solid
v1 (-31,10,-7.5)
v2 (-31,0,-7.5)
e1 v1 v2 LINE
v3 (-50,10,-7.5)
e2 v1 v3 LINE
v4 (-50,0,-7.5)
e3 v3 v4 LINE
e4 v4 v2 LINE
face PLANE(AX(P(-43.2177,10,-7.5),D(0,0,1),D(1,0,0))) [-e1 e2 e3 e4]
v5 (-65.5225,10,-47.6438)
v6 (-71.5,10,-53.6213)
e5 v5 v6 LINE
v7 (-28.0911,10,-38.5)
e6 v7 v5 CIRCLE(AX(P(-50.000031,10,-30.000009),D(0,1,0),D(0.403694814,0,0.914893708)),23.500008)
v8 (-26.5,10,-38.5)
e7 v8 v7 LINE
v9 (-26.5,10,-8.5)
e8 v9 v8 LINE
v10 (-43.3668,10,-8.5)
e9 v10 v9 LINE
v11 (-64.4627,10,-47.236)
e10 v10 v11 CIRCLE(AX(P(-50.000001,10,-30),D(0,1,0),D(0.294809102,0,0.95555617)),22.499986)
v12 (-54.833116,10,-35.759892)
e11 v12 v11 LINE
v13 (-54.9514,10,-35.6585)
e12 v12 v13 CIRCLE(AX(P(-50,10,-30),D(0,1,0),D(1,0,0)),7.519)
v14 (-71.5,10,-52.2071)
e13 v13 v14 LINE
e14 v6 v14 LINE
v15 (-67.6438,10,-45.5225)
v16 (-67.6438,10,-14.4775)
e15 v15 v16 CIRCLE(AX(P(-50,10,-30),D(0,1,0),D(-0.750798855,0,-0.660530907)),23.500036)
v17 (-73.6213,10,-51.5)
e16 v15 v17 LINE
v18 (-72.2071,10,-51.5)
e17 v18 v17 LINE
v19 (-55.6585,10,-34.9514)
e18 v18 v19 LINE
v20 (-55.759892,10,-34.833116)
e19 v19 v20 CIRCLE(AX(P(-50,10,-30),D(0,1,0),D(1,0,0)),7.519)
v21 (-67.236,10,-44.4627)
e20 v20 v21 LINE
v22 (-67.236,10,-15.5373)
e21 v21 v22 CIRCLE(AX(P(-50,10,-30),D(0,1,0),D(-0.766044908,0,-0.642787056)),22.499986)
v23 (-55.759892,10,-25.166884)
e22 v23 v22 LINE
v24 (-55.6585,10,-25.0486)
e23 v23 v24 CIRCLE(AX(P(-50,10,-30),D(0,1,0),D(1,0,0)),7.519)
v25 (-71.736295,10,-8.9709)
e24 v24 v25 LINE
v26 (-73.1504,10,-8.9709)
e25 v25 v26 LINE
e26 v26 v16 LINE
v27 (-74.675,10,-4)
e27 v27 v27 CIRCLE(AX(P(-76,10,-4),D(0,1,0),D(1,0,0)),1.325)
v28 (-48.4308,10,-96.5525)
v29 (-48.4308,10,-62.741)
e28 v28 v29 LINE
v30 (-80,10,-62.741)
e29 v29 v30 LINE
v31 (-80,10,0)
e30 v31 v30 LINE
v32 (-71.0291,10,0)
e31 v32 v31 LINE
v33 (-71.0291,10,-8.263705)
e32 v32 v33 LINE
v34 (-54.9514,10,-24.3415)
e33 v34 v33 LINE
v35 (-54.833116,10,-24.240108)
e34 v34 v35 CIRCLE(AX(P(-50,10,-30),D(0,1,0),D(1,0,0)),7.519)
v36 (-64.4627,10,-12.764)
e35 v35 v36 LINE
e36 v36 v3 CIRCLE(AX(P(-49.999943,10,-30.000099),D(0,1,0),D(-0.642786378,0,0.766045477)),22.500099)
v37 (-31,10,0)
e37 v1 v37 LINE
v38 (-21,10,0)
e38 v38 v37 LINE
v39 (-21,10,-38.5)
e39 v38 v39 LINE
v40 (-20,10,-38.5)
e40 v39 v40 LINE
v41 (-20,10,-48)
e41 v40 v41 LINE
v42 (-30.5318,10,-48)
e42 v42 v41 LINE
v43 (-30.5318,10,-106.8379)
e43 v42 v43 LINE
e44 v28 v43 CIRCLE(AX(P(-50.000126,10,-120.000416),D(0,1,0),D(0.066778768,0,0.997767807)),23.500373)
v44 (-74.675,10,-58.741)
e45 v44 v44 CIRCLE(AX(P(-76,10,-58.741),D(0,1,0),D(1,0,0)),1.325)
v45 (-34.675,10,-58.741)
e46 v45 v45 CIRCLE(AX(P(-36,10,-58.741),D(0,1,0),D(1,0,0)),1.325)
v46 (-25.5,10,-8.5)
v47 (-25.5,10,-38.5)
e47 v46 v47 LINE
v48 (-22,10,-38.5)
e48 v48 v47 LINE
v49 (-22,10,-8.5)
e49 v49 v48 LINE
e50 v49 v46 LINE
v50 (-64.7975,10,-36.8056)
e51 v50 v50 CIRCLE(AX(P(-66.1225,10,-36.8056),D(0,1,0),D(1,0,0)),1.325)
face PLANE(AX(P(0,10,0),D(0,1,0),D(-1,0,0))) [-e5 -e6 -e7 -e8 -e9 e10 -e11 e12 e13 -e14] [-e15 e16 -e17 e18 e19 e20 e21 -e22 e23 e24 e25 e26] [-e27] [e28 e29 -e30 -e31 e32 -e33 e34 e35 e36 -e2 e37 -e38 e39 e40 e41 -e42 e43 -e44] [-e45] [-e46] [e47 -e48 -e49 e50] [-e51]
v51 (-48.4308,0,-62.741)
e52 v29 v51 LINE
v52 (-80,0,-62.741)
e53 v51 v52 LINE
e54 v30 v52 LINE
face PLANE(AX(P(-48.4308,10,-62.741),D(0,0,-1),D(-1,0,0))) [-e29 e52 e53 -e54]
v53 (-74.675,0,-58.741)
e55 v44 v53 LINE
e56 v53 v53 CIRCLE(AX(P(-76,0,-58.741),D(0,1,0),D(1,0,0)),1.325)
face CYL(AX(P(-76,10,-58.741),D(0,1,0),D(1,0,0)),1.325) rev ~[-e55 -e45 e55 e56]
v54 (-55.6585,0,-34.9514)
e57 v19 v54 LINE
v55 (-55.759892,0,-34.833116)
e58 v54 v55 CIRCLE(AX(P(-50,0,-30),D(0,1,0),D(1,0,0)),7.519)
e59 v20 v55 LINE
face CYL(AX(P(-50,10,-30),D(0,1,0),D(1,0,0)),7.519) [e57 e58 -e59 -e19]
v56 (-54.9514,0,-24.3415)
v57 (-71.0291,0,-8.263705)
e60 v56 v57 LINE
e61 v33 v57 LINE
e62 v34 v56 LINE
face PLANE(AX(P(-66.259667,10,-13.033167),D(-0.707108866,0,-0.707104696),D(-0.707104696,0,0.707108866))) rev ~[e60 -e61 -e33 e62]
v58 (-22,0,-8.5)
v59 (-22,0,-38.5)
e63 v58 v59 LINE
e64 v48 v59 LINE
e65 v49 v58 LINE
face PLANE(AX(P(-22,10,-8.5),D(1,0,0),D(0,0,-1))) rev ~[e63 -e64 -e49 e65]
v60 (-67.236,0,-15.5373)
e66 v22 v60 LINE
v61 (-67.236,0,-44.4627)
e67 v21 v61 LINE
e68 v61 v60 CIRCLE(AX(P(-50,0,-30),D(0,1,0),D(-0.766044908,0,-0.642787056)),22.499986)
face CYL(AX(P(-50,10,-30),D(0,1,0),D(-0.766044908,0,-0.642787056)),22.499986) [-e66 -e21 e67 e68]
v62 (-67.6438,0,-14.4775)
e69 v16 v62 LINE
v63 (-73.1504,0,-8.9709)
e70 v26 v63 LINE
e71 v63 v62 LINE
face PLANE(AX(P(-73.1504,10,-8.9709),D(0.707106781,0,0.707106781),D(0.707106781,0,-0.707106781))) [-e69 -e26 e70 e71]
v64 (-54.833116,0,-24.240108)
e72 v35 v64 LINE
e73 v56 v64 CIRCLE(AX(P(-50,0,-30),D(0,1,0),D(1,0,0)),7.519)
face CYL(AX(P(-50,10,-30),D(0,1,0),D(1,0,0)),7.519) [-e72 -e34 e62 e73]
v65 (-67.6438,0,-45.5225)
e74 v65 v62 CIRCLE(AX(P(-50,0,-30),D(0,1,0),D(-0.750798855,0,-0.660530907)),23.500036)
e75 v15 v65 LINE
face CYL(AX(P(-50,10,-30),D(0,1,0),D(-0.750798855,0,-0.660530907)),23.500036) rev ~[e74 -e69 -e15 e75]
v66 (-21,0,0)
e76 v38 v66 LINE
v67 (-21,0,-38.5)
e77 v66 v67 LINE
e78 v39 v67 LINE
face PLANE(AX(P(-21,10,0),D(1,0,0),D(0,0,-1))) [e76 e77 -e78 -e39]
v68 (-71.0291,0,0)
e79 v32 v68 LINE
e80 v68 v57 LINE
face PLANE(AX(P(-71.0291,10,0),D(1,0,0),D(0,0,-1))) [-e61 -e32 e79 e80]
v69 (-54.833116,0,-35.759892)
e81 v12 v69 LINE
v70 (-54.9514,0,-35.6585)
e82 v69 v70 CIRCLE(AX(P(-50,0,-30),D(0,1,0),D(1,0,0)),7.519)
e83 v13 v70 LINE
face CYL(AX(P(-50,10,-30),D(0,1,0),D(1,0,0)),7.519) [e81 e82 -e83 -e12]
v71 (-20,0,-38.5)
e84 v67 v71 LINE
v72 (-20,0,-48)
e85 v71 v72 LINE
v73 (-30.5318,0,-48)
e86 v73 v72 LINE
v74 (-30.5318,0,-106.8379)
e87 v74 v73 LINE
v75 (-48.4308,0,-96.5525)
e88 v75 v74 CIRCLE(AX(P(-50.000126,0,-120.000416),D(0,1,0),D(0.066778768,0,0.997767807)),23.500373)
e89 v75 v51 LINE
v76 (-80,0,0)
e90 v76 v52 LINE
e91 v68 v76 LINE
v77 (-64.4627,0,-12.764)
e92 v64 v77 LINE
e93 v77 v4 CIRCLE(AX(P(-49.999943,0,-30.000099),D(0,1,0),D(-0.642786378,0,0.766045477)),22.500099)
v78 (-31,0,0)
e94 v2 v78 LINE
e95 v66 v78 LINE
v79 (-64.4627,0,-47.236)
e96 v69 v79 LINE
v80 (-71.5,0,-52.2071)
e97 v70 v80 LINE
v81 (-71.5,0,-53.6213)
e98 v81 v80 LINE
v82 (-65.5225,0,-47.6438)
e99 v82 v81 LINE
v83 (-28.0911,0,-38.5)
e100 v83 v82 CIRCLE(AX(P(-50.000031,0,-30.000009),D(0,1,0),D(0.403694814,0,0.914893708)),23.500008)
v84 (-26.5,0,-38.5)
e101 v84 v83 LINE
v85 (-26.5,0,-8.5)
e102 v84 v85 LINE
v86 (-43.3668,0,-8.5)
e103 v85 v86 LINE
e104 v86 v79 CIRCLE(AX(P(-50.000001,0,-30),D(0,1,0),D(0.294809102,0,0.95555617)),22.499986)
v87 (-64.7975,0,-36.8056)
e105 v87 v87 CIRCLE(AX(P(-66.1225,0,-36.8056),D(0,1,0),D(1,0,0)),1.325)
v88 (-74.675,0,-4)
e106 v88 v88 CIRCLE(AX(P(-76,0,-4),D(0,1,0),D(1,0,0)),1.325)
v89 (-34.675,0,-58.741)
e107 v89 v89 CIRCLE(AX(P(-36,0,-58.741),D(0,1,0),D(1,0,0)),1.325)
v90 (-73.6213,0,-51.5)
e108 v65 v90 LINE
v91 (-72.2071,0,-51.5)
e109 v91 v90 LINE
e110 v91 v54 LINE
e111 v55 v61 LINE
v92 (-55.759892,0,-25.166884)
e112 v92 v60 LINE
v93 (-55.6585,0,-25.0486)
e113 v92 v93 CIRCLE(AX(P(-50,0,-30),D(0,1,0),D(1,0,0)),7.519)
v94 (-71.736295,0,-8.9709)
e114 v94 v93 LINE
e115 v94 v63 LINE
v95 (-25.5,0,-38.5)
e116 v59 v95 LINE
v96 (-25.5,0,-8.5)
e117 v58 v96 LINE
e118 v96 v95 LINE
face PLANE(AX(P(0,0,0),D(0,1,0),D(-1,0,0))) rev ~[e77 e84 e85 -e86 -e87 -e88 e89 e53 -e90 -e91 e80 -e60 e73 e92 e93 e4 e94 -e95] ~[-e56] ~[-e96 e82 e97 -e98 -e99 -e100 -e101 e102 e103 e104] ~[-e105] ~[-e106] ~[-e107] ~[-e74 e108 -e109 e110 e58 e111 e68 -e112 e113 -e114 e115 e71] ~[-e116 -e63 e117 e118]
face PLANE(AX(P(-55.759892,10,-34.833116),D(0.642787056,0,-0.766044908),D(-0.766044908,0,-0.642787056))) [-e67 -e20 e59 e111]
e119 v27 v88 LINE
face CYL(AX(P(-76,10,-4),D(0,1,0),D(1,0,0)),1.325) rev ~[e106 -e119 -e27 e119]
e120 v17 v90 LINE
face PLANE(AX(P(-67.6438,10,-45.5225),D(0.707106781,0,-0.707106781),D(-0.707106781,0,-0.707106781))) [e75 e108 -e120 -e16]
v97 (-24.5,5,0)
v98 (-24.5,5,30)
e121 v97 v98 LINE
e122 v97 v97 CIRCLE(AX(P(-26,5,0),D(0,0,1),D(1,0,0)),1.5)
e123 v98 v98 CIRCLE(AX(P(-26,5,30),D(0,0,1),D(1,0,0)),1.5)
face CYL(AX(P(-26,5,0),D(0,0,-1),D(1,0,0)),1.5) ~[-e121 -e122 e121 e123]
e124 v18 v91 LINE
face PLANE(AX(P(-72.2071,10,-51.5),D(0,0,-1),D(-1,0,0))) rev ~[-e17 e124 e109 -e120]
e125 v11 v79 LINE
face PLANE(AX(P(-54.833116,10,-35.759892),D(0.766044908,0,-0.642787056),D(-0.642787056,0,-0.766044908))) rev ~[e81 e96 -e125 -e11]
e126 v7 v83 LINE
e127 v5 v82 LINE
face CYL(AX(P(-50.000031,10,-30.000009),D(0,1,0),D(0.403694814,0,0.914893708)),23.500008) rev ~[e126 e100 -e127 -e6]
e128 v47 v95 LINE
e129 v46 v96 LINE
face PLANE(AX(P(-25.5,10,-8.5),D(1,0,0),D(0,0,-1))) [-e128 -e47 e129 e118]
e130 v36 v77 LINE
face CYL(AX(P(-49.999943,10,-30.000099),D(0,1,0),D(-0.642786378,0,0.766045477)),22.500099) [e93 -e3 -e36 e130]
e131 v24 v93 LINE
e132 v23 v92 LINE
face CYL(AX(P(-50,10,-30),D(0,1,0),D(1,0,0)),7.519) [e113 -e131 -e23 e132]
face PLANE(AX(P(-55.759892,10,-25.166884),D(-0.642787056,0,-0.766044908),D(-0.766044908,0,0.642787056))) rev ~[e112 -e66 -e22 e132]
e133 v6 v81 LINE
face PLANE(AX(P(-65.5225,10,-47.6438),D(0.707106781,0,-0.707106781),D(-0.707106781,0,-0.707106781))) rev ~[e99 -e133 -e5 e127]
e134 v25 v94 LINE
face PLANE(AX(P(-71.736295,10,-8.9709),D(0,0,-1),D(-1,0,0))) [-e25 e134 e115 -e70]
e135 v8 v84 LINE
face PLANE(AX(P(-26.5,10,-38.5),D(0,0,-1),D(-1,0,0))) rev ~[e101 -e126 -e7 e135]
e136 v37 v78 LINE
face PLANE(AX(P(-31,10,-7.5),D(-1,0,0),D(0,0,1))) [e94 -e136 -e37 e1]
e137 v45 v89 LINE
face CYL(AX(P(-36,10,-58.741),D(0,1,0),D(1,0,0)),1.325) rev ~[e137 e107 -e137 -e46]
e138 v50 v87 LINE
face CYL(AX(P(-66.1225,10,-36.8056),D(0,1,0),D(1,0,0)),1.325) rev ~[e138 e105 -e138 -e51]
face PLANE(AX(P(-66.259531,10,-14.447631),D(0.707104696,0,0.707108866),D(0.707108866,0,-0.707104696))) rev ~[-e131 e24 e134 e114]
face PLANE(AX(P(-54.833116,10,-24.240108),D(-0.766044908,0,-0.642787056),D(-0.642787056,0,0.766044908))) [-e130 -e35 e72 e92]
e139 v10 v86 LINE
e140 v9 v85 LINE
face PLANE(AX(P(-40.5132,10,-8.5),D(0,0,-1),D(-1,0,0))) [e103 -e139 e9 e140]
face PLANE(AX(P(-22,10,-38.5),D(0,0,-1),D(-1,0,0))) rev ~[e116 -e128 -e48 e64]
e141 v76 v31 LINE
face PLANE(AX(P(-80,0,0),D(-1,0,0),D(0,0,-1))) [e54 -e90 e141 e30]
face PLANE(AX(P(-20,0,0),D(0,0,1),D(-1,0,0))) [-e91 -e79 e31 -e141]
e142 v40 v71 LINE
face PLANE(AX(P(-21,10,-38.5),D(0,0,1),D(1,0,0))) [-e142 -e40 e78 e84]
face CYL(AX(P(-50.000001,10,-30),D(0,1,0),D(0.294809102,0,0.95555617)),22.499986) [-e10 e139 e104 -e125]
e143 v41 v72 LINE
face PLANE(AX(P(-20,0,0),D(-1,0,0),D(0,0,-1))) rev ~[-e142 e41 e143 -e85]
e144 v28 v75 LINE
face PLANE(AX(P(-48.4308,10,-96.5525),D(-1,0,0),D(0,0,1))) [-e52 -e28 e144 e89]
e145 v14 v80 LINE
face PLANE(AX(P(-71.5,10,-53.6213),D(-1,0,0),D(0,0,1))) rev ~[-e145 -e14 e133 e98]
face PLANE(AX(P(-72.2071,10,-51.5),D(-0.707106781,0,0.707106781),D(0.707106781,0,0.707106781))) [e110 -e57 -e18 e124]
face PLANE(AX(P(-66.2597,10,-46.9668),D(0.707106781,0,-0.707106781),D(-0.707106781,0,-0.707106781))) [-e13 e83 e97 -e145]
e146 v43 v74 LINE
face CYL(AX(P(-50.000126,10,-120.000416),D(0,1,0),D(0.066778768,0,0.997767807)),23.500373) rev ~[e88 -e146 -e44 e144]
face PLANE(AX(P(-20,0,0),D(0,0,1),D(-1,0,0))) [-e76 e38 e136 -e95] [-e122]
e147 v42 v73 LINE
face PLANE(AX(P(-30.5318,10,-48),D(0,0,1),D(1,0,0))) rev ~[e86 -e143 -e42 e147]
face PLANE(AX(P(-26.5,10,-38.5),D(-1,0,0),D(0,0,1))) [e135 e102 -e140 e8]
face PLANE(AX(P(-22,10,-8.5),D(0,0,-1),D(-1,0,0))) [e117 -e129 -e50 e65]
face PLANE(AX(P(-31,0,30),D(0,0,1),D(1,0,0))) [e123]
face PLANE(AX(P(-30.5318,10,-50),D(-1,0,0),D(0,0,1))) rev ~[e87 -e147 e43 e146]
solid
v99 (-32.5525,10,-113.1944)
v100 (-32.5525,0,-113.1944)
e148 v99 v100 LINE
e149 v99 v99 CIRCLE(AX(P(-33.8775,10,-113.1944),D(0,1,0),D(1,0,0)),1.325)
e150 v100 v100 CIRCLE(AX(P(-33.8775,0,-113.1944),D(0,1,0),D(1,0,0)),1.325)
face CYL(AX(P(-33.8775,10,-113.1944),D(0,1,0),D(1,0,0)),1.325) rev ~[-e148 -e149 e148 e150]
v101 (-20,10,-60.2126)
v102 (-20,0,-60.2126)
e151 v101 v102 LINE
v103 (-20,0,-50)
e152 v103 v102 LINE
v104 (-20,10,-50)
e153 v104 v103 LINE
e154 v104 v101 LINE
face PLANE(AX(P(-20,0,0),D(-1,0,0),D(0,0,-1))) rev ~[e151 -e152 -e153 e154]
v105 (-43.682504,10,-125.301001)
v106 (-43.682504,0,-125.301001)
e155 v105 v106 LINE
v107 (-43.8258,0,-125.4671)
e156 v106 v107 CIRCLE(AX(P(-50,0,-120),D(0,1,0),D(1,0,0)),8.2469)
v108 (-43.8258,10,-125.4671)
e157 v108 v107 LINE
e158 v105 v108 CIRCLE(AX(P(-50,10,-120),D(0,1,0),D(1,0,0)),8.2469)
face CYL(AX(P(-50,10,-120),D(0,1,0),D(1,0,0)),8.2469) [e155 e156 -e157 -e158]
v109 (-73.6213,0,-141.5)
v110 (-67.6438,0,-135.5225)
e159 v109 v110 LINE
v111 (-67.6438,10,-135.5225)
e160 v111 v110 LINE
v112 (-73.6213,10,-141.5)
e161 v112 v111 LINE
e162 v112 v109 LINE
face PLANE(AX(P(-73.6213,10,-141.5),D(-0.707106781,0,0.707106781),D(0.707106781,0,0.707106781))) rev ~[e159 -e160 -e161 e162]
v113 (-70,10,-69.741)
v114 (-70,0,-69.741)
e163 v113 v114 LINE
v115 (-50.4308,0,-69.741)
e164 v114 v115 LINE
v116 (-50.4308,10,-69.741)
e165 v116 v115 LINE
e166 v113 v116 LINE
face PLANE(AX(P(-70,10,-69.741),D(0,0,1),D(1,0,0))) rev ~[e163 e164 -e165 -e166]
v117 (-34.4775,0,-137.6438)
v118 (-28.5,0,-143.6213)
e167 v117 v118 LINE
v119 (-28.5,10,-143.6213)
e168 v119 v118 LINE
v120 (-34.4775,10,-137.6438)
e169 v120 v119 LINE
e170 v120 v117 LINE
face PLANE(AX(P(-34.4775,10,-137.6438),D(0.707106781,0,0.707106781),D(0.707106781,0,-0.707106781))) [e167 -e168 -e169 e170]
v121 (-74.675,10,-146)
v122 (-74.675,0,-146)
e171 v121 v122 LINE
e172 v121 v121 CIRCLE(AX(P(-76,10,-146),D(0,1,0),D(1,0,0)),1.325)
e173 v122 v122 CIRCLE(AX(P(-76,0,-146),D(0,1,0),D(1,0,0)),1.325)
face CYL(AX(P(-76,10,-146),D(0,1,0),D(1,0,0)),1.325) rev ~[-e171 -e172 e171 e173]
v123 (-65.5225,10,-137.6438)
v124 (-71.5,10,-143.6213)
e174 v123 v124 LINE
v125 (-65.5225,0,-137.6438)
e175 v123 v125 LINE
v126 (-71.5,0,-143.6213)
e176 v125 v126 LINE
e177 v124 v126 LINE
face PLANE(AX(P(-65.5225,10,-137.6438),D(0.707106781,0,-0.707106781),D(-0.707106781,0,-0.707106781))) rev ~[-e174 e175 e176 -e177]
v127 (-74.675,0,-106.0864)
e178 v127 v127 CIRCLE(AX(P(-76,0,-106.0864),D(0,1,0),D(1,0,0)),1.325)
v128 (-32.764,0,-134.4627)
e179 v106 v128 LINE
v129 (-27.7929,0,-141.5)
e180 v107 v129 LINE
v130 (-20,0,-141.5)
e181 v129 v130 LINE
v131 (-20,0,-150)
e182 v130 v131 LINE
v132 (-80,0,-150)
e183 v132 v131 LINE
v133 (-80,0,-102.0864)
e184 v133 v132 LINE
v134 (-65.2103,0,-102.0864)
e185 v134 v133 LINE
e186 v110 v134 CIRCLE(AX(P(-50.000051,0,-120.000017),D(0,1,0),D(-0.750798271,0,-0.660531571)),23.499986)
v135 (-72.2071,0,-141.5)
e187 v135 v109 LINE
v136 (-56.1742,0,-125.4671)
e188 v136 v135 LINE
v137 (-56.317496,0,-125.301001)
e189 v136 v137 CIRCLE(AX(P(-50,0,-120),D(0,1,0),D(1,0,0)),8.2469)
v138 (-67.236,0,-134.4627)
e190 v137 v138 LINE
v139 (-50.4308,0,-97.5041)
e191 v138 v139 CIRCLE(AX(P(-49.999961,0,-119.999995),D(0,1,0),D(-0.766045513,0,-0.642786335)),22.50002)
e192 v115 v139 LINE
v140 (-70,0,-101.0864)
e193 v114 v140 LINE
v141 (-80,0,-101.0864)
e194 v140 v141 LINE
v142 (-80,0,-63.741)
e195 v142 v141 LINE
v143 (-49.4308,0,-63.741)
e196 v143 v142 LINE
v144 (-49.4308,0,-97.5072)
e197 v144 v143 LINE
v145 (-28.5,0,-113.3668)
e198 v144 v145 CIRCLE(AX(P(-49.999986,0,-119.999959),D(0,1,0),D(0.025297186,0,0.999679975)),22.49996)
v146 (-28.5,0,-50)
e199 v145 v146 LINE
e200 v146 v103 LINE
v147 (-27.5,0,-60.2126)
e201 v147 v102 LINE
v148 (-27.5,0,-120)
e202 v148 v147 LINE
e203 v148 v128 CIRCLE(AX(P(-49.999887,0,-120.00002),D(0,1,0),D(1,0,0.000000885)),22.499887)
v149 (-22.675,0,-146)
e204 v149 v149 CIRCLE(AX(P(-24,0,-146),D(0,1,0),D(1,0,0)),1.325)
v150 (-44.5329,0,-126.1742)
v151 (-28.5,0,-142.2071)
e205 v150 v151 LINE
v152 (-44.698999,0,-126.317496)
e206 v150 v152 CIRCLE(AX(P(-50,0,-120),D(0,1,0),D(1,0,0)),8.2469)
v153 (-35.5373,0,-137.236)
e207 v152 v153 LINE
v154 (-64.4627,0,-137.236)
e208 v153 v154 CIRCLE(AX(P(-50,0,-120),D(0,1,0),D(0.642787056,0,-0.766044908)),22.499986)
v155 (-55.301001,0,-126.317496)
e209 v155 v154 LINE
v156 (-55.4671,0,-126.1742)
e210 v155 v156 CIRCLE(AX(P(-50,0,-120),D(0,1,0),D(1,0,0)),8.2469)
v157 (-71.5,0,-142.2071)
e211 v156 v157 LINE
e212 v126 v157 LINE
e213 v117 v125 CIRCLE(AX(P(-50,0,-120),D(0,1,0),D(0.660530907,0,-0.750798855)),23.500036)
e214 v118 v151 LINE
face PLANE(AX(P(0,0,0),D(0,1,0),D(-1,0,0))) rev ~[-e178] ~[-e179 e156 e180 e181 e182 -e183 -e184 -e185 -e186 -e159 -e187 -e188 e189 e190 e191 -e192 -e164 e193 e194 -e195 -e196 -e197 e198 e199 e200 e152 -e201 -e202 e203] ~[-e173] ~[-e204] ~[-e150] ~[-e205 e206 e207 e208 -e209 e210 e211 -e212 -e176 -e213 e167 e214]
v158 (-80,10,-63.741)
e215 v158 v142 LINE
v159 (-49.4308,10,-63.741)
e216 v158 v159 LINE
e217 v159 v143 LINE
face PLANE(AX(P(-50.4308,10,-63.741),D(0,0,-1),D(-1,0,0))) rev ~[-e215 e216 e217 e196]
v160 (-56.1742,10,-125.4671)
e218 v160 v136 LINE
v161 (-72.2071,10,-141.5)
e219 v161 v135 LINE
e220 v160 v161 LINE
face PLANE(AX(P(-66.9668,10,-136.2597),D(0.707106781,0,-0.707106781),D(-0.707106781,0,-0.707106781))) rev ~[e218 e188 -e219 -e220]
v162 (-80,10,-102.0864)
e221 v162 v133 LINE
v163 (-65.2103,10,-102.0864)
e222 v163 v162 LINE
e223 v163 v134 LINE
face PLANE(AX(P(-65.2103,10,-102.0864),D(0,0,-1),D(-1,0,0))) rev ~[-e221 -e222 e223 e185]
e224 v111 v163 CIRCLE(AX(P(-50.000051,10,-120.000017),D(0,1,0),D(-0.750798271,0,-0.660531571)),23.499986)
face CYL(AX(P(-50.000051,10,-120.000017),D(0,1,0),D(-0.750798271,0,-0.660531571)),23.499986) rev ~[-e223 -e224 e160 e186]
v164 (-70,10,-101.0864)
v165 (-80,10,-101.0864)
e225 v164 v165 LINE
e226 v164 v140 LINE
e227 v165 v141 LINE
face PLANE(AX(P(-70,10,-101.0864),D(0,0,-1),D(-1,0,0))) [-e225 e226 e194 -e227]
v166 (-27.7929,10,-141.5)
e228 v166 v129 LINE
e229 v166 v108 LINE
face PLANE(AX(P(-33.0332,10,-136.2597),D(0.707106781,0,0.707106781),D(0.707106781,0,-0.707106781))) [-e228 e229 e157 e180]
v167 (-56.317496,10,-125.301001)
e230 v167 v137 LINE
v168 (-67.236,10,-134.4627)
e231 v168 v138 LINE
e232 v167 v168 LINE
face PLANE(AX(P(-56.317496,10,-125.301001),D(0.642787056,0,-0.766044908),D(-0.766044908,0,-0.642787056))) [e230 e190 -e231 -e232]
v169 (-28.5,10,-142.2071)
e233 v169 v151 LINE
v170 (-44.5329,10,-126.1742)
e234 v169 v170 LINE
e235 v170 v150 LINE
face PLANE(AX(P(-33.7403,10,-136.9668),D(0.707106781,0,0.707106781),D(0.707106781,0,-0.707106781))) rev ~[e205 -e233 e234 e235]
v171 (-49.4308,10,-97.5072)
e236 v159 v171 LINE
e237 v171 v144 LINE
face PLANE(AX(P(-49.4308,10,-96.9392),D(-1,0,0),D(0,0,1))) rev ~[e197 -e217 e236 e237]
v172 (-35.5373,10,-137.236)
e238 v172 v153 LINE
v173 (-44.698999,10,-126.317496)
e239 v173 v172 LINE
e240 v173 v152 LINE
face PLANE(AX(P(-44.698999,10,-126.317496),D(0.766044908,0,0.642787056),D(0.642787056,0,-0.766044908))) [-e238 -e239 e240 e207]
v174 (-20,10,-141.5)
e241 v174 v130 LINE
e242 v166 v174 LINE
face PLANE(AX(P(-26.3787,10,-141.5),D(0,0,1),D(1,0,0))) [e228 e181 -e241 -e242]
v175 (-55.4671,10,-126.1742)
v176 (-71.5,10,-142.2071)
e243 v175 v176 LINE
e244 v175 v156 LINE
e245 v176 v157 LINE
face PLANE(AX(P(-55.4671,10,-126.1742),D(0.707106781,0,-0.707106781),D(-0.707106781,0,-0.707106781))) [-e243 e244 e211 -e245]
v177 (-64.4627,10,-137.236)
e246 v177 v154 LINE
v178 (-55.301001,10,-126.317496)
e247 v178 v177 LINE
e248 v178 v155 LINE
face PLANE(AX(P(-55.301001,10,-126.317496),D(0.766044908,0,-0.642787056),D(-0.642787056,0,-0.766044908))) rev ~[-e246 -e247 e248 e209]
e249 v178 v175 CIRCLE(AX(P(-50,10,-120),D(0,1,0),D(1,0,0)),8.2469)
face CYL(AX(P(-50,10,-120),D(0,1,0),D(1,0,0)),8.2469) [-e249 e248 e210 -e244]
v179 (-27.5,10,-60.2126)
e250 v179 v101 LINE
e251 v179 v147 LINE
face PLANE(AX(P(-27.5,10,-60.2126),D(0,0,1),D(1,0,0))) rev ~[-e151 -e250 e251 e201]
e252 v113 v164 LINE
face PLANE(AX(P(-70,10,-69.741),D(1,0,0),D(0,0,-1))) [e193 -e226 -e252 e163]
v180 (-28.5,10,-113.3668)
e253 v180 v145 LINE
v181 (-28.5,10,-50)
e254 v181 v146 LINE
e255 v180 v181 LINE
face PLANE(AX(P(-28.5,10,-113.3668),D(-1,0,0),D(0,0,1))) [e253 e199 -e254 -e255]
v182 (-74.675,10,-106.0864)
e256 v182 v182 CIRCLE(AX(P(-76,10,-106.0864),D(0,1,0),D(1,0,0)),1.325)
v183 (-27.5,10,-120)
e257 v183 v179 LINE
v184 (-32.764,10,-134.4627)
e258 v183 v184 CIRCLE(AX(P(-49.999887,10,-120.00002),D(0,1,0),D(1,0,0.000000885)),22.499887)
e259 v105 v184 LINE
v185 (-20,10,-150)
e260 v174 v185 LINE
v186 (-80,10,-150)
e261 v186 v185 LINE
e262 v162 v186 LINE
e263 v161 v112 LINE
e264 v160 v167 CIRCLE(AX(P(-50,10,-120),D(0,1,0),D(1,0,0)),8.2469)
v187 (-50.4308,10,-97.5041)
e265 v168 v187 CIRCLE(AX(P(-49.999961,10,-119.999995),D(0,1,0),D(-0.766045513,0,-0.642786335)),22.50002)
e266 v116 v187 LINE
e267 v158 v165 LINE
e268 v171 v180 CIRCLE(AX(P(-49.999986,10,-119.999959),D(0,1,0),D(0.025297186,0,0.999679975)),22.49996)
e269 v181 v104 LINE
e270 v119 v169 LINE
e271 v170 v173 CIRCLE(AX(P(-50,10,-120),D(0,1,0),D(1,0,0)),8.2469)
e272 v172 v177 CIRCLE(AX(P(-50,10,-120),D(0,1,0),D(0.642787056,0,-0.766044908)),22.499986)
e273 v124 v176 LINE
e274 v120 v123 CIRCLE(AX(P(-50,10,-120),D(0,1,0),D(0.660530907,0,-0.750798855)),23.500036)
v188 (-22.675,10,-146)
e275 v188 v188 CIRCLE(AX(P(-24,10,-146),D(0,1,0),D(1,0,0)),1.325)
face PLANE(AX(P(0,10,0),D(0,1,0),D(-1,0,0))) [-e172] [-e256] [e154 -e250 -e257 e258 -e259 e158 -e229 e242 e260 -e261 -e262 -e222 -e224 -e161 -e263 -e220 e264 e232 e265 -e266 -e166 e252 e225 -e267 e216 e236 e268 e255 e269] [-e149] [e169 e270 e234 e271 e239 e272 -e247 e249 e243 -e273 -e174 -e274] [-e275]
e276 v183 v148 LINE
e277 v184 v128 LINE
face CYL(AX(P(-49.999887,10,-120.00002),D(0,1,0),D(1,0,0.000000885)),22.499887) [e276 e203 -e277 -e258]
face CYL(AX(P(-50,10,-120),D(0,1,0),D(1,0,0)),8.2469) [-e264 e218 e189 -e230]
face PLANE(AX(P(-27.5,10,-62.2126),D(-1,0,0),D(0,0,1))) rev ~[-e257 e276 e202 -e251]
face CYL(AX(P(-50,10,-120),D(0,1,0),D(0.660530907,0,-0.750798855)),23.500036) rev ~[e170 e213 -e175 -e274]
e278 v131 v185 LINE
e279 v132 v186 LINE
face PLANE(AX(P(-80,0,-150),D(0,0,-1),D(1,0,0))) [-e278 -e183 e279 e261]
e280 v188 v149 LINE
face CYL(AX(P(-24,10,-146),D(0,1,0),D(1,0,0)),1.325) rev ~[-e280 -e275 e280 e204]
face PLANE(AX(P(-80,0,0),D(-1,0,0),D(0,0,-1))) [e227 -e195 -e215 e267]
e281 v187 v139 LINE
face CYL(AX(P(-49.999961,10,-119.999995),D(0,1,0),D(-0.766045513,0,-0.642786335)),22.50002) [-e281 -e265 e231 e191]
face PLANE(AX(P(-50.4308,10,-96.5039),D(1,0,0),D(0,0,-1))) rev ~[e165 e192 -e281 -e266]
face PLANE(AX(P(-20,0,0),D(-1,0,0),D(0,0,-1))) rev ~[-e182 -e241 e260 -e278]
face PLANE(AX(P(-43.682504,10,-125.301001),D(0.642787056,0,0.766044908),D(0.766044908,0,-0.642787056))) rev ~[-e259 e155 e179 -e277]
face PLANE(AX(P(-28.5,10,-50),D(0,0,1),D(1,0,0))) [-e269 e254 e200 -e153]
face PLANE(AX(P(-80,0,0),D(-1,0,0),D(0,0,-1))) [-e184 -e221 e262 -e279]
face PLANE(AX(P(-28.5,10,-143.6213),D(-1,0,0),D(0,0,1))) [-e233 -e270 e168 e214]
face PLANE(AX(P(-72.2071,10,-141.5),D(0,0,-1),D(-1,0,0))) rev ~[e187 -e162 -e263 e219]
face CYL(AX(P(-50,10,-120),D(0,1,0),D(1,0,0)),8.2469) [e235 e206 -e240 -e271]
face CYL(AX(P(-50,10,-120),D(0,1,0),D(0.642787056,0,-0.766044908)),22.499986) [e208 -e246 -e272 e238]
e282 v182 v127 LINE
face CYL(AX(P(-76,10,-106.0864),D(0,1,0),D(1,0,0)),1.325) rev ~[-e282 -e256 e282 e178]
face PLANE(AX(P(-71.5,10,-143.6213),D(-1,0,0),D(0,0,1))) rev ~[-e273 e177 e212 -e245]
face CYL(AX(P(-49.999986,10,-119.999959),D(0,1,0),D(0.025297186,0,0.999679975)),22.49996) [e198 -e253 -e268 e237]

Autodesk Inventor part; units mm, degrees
ref_plane "YZ Plane" through (0, 0, 0) normal (1, 0, 0) x (0, 1, 0)
ref_plane "XZ Plane" through (0, 0, 0) normal (0, 1, 0) x (-1, 0, 0)
ref_plane "XY Plane" through (0, 0, 0) normal (0, 0, 1) x (1, 0, 0)
sketch "Sketch1" plane through (0, 0, 0) normal (0, 1, 0) x (-1, 0, 0)
  line L0 (0, 0) -> (100, 0)
  line L1 (100, 0) -> (100, -150)
  line L2 (100, -150) -> (0, -150)
  line L3 (0, -150) -> (0, 0)
  line L4 (0, 0) -> (20, 0)
  line L5 (20, 0) -> (20, -150)
  line L6 (20, -150) -> (0, -150)
  line L7 (0, -150) -> (0, 0)
  line L8 (100, 0) -> (80, 0)
  line L9 (80, 0) -> (80, -150)
  line L10 (80, -150) -> (100, -150)
  line L11 (100, -150) -> (100, 0)
  dimension "d0" = 100
  dimension "d1" = 150
  dimension "d2" = 20
  dimension "d3" = 20
  dimension "d4" = 150
  dimension "d5" = 150
extrude "Extrusion1" add sketch "Sketch1" along normal blind 10 contours L0 L9 L2 L5
sketch "Sketch2" plane through (0, 10, 0) normal (0, 1, 0) x (1, 0, 0)
  line L0 (-80, 150) -> (-80, 0) projected
  line L1 (-80, 0) -> (-20, 0) projected
  line L2 (-20, 150) -> (-50, 120)
  line L3 (-20, 150) -> (-80, 150) projected
  line L4 (-50, 120) -> (-80, 150)
  circle A0 centre (-50, 30) radius 7.519
  circle A1 centre (-50, 120) radius 8.2469
  line L5 (-50, 120) -> (-32.764, 134.4627)
  line L6 (-50, 120) -> (-35.5373, 137.236)
  line L7 (-50, 120) -> (-64.4627, 137.236)
  line L8 (-50, 120) -> (-67.236, 134.4627)
  line L9 (-50, 30) -> (-80, 60)
  line L10 (-50, 30) -> (-64.4627, 47.236)
  line L11 (-50, 30) -> (-67.236, 44.4627)
  line L12 (-27.5, 120) -> (-27.5, 60.2126)
  line L13 (-27.5, 60.2126) -> (-20, 60.2126)
  line L14 (-80, 0) -> (-50, 30)
  line L15 (-50, 30) -> (-67.236, 15.5373)
  line L16 (-50, 30) -> (-64.4627, 12.764)
  line L17 (-49.9308, 97.5001) -> (-49.9308, 66.741)
  line L18 (-80, 66.741) -> (-80.1256, 66.741)
  line L19 (-50, 7.5) -> (-21, 7.5)
  line L20 (-21, 7.5) -> (-21, 8.5)
  line L21 (-20, 0) -> (-20, 150) projected
  line L22 (-21, 7.5) -> (-31, 7.5)
  line L23 (-31, 7.5) -> (-31, 0)
  line L24 (-31, 0) -> (-21, 0)
  line L25 (-21, 0) -> (-21, 7.5)
  line L26 (-21, 8.5) -> (-22, 8.5)
  line L27 (-22, 8.5) -> (-22, 38.5)
  line L28 (-22, 38.5) -> (-21, 38.5)
  line L29 (-21, 38.5) -> (-21, 8.5)
  line L30 (-26.5, 8.5) -> (-25.5, 8.5)
  line L31 (-25.5, 8.5) -> (-25.5, 38.5)
  line L32 (-25.5, 38.5) -> (-26.5, 38.5)
  line L33 (-26.5, 38.5) -> (-26.5, 8.5)
  line L34 (-28.5, 113.3668) -> (-28.5, 50)
  line L35 (-28.5, 50) -> (-27.5, 50)
  line L36 (-27.5, 60.2126) -> (-27.5, 120)
  line L37 (-20, 62.2126) -> (-26.5, 62.2126)
  line L38 (-27.5, 62.2126) -> (-27.5, 60.2126)
  line L39 (-27.5, 50) -> (-20, 50)
  line L40 (-20, 50) -> (-20, 62.2126)
  line L41 (-20, 50) -> (-28.5, 50)
  line L42 (-30.5318, 50) -> (-30.5318, 48)
  line L43 (-30.5318, 48) -> (-20, 48)
  line L44 (-20, 48) -> (-20, 50)
  line L45 (-28.5, 50) -> (-28.5, 106.8379)
  line L46 (-30.5318, 106.8379) -> (-30.5318, 50)
  line L47 (-26.5, 62.2126) -> (-26.5, 120)
  line L48 (-26.5, 120) -> (-27.5, 120)
  line L49 (-27.5, 120) -> (-27.5, 62.2126)
  line L50 (-49.4308, 97.5072) -> (-49.4308, 63.741)
  line L51 (-49.4308, 63.741) -> (-50.4308, 63.741)
  line L52 (-50.4308, 63.741) -> (-80, 63.741)
  line L53 (-80, 63.741) -> (-80, 69.741)
  line L54 (-80, 69.741) -> (-50.4308, 69.741)
  line L55 (-80, 69.741) -> (-70, 69.741)
  line L56 (-70, 69.741) -> (-70, 101.0864)
  line L57 (-70, 101.0864) -> (-80, 101.0864)
  line L58 (-80, 101.0864) -> (-80, 69.741)
  line L59 (-80, 63.741) -> (-49.4308, 63.741)
  line L60 (-48.4308, 63.741) -> (-48.4308, 62.741)
  line L61 (-48.4308, 62.741) -> (-80, 62.741)
  line L62 (-80, 62.741) -> (-80, 63.741)
  line L63 (-49.4308, 63.741) -> (-49.4308, 96.9392)
  line L64 (-48.4308, 96.5525) -> (-48.4308, 63.741)
  line L65 (-80, 101.0864) -> (-63.9473, 101.0864)
  line L66 (-65.2103, 102.0864) -> (-80, 102.0864)
  line L67 (-80, 102.0864) -> (-80, 101.0864)
  line L68 (-54.9514, 24.3415) -> (-71.9108, 7.382)
  line L69 (-71.9108, 7.382) -> (-72.618, 8.0892)
  line L70 (-72.618, 8.0892) -> (-55.6585, 25.0486)
  line L71 (-80, 0) -> (-71.0291, 0)
  line L72 (-71.0291, 0) -> (-71.0291, 8.9709)
  line L73 (-71.0291, 8.9709) -> (-80, 8.9709)
  line L74 (-80, 8.9709) -> (-80, 0)
  line L75 (-65.5225, 12.3562) -> (-71.0291, 6.8496)
  line L76 (-73.1504, 8.9709) -> (-67.6438, 14.4775)
  line L77 (-80, 60) -> (-71.5, 60)
  line L78 (-71.5, 60) -> (-71.5, 51.5)
  line L79 (-71.5, 51.5) -> (-80, 51.5)
  line L80 (-80, 51.5) -> (-80, 60)
  line L81 (-67.6438, 45.5225) -> (-73.6213, 51.5)
  line L82 (-65.5225, 47.6438) -> (-71.5, 53.6213)
  line L83 (-54.9514, 35.6585) -> (-71.5, 52.2071)
  line L84 (-72.2071, 51.5) -> (-55.6585, 34.9514)
  line L85 (-56.1742, 125.4671) -> (-72.2071, 141.5)
  line L86 (-80, 150) -> (-71.5, 150)
  line L87 (-71.5, 150) -> (-71.5, 141.5)
  line L88 (-71.5, 141.5) -> (-80, 141.5)
  line L89 (-80, 141.5) -> (-80, 150)
  line L90 (-20, 150) -> (-28.5, 150)
  line L91 (-28.5, 150) -> (-28.5, 141.5)
  line L92 (-28.5, 141.5) -> (-20, 141.5)
  line L93 (-20, 141.5) -> (-20, 150)
  line L94 (-55.4671, 126.1742) -> (-71.5, 142.2071)
  line L95 (-73.6213, 141.5) -> (-67.6438, 135.5225)
  line L96 (-65.5225, 137.6438) -> (-71.5, 143.6213)
  line L97 (-43.8258, 125.4671) -> (-27.7929, 141.5)
  line L98 (-44.5329, 126.1742) -> (-28.5, 142.2071)
  line L99 (-32.3562, 135.5225) -> (-26.3787, 141.5)
  line L100 (-34.4775, 137.6438) -> (-28.5, 143.6213)
  line L101 (-21, 8.5) -> (-25.5, 8.5)
  line L102 (-26.5, 8.5) -> (-43.3668, 8.5)
  line L103 (-22, 38.5) -> (-25.5, 38.5)
  line L104 (-26.5, 38.5) -> (-28.0911, 38.5)
  line L105 (-21, 38.5) -> (-20, 38.5)
  line L106 (-20, 38.5) -> (-20, 0)
  line L107 (-20, 0) -> (-21, 0)
  line L108 (-21, 0) -> (-21, 38.5)
  line L109 (-80, 0) -> (-20, 0)
  line L110 (-20, 0) -> (-20, 150)
  line L111 (-20, 150) -> (-80, 150)
  line L112 (-80, 150) -> (-80, 0)
  arc A2 (-65.5225, 12.3562) -> (-43.2177, 7.5) centre (-50, 30) ccw
  arc A3 (-66.9668, 13.7403) -> (-66.2597, 13.0332) centre (-50, 30) ccw
  arc A4 (-64.4627, 12.764) -> (-50, 7.5) centre (-50, 30) ccw
  arc A5 (-66.2595, 14.4476) -> (-65.5524, 13.7405) centre (-50, 30) ccw
  arc A6 (-67.236, 44.4627) -> (-67.236, 15.5373) centre (-50, 30) ccw
  arc A7 (-43.3668, 8.5) -> (-64.4627, 47.236) centre (-50, 30) ccw
  arc A8 (-65.5524, 46.2595) -> (-66.2595, 45.5524) centre (-50, 30) ccw
  arc A9 (-40.5132, 8.5) -> (-65.5225, 47.6438) centre (-50, 30) ccw
  arc A10 (-66.2597, 46.9668) -> (-66.9668, 46.2597) centre (-50, 30) ccw
  arc A11 (-67.6438, 45.5225) -> (-67.6438, 14.4775) centre (-50, 30) ccw
  arc A12 (-27.5, 120) -> (-32.764, 134.4627) centre (-50, 120) ccw
  arc A13 (-33.7405, 135.5524) -> (-34.4476, 136.2595) centre (-50, 120) ccw
  arc A14 (-26.5, 120) -> (-32.3562, 135.5225) centre (-50, 120) ccw
  arc A15 (-33.0332, 136.2597) -> (-33.7403, 136.9668) centre (-50, 120) ccw
  arc A16 (-35.5373, 137.236) -> (-64.4627, 137.236) centre (-50, 120) ccw
  arc A17 (-65.5524, 136.2595) -> (-66.2595, 135.5524) centre (-50, 120) ccw
  arc A18 (-34.4775, 137.6438) -> (-65.5225, 137.6438) centre (-50, 120) ccw
  arc A19 (-66.2597, 136.9668) -> (-66.9668, 136.2597) centre (-50, 120) ccw
  arc A20 (-67.6438, 135.5225) -> (-65.2103, 102.0864) centre (-50, 120) ccw
  line L113 (-50.4308, 69.741) -> (-50.4308, 97.5041)
  arc A21 (-48.4308, 96.5525) -> (-30.5318, 106.8379) centre (-50, 120) ccw
  arc A22 (-63.9473, 101.0864) -> (-50.4308, 96.5039) centre (-50, 120) ccw
  arc A23 (-67.236, 134.4627) -> (-50.4308, 97.5041) centre (-50, 120) ccw
  arc A24 (-49.4308, 97.5072) -> (-28.5, 113.3668) centre (-50, 120) ccw
  point P0 (-56.3175, 125.301)
  point P1 (-44.699, 126.3175)
  point P2 (-55.301, 126.3175)
  point P3 (-43.6825, 125.301)
  point P4 (-54.8331, 24.2401)
  point P5 (-71.0291, 8.2638)
  point P6 (-55.7599, 34.8331)
  point P7 (-71.7362, 8.9709)
  point P8 (-55.7599, 25.1669)
  point P9 (-54.8331, 35.7599)
  dimension "d23" = 1
  dimension "d25" = 10
  dimension "d26" = 30
  dimension "d27" = 1
  dimension "d28" = 1
  dimension "d29" = 1
  dimension "d31" = 50
  dimension "d32" = 7.5
  dimension "d34" = 2
  dimension "d35" = 2
  dimension "d37" = 0.5
  dimension "d39" = 3
  dimension "d40" = 3
  dimension "d41" = 45
  dimension "d43" = 30
  dimension "d44" = 45
  dimension "d45" = 10
  dimension "d46" = 1
  dimension "d47" = 1
  dimension "d48" = 1
  dimension "d49" = 0.5
  dimension "d50" = 0.5
  dimension "d51" = 1
  dimension "d52" = 1
  dimension "d53" = 8.5
  dimension "d58" = 0.5
  dimension "d59" = 0.5
  dimension "d60" = 1
  dimension "d61" = 1
  dimension "d62" = 0.5
  dimension "d63" = 0.5
  dimension "d64" = 1
  dimension "d65" = 1
  dimension "d66" = 8.5
  dimension "d67" = 8.5
  dimension "d68" = 30
  dimension "d69" = 30
  dimension "d70" = 30
  dimension "d71" = 8.5
  dimension "d72" = 8.5
  dimension "d73" = 0.5
  dimension "d74" = 0.5
  dimension "d75" = 1
  dimension "d76" = 1
  dimension "d77" = 5
  dimension "d78" = 5
  dimension "d79" = 5
  dimension "d80" = 5
  dimension "d81" = 5
  dimension "d82" = 5
  dimension "d83" = 5
  dimension "d84" = 5
extrude "Extrusion2" cut sketch "Sketch2" against normal blind 20 contours L66 A20 L95 L88 L85 A1 L8 A23 L113 A22 L65 L57 L0 | L96 A18 L100 L91 L98 A1 L6 A16 L7 L94 L87 | L65 A22 L113 L54 L56 | L21 L37 L47 A14 L99 L92 | L92 L99 A14 L48 A12 L5 A1 L97 | L21 L13 L12 L48 L47 L37 | L52 L51 L50 A24 L34 L35 L39 L21 L43 L42 L46 A21 L64 L60 L61 L0 | L21 L1 L25 L20 L29 L105 | L79 L84 A0 L11 A6 L15 L70 L73 L76 A11 L81 | L78 L82 A9 L102 A7 L10 A0 L83 | L27 L101 L31 L103 | L72 L75 A2 L19 L23 L1 | L104 L33 A9 | L72 L68 A0 L16 A4 L19 A2 L75 | L33 L102 A9
sketch "Sketch6" plane through (0, 10, 0) normal (0, 1, 0) x (1, 0, 0)
  arc A0 (-43.3668, 8.5) -> (-64.4627, 47.236) centre (-50, 30) ccw projected
  arc A1 (-49.4308, 97.5072) -> (-28.5, 113.3668) centre (-50, 120) ccw projected
  arc A2 (-43.3668, 8.5) -> (-64.4627, 47.236) centre (-50, 30) ccw projected
  arc A3 (-49.4308, 97.5072) -> (-28.5, 113.3668) centre (-50, 120) ccw projected
  line L0 (-28.5, 113.3668) -> (-28.5, 50) projected
  line L1 (-48.4308, 62.741) -> (-80, 62.741) projected
  line L2 (-30.5318, 106.8379) -> (-30.5318, 48) projected
  arc A4 (-67.236, 44.4627) -> (-67.236, 15.5373) centre (-50, 30) ccw projected
  line L3 (-72.5, 30) -> (-27.5, 120)
  circle A5 centre (-76, 4) radius 1.325
  circle A6 centre (-76, 58.741) radius 1.325
  circle A7 centre (-36, 58.741) radius 1.325
  circle A8 centre (-24, 146) radius 1.325
  circle A9 centre (-76, 146) radius 1.325
  circle A10 centre (-76, 106.0864) radius 1.325
  line L4 (-80, 0) -> (-71.0291, 0) projected
  line L5 (-80, 62.741) -> (-80, 0) projected
  line L6 (-20, 141.5) -> (-20, 150) projected
  line L7 (-20, 150) -> (-80, 150) projected
  line L8 (-80, 150) -> (-80, 102.0864) projected
  line L9 (-80, 102.0864) -> (-65.2103, 102.0864) projected
  point P0 (0, 0)
  dimension "d94" = 4
  dimension "d95" = 4
  dimension "d96" = 2.65
  dimension "d97" = 4
  dimension "d98" = 4
  dimension "d99" = 2.65
  dimension "d100" = 0
  dimension "d101" = 2.65
  dimension "d102" = 40
  dimension "d103" = 2.65
  dimension "d104" = 2.65
  dimension "d105" = 2.65
  dimension "d106" = 4
  dimension "d107" = 4
  dimension "d108" = 4
  dimension "d109" = 4
  dimension "d110" = 4
  dimension "d111" = 4
extrude "Extrusion3" cut sketch "Sketch6" against normal blind 10
sketch "Sketch7" plane through (0, 10, 0) normal (0, 1, 0) x (1, 0, 0)
  circle A0 centre (-66.1225, 36.8056) radius 1.1 projected
  circle A1 centre (-33.8775, 113.1944) radius 1.1 projected
  circle A2 centre (-66.1225, 36.8056) radius 1.325
  circle A3 centre (-33.8775, 113.1944) radius 1.325
  point P0 (0, 0)
  dimension "d114" = 2.65
  dimension "d115" = 2.65
extrude "Extrusion4" cut sketch "Sketch7" against normal blind 10 contours A0 | A1 | A2 | A3
sketch "Sketch8" plane through (-31, 0, 0) normal (0, 0, 1) x (1, 0, 0)
  circle A0 centre (5, 5) radius 1.5
  line L0 (0, 10) -> (10, 10) projected
  line L1 (10, 0) -> (10, 10) projected
  point P0 (31, 0)
  dimension "d118" = 3
  dimension "d119" = 5
  dimension "d120" = 5
extrude "Extrusion5" add sketch "Sketch8" along normal blind 30
equation "\"d27\" = d24"
equation "\"d28\" = BladeThickness"
equation "\"d29\" = d27"
equation "\"d37\" = d36"
equation "\"d49\" = 0.5 * d24"
equation "\"d50\" = d49"
equation "\"d58\" = 0.5 * d24"
equation "\"d59\" = d58"
equation "\"d61\" = d60"
equation "\"d62\" = 0.5 * d24"
equation "\"d63\" = d62"
equation "\"d73\" = d63"
equation "\"d74\" = d73"
equation "\"d19\" = d18"
equation "\"d21\" = d22"
equation "\"d24\" = BladeThickness"
equation "\"BladeThickness\" = 1"
equation "\"NeckThickness\" = 1"
equation "\"d36\" = 0.5 * d27"
equation "\"d18\" = 45"
equation "\"d22\" = 47"
properties part number "FlexK7V2"
